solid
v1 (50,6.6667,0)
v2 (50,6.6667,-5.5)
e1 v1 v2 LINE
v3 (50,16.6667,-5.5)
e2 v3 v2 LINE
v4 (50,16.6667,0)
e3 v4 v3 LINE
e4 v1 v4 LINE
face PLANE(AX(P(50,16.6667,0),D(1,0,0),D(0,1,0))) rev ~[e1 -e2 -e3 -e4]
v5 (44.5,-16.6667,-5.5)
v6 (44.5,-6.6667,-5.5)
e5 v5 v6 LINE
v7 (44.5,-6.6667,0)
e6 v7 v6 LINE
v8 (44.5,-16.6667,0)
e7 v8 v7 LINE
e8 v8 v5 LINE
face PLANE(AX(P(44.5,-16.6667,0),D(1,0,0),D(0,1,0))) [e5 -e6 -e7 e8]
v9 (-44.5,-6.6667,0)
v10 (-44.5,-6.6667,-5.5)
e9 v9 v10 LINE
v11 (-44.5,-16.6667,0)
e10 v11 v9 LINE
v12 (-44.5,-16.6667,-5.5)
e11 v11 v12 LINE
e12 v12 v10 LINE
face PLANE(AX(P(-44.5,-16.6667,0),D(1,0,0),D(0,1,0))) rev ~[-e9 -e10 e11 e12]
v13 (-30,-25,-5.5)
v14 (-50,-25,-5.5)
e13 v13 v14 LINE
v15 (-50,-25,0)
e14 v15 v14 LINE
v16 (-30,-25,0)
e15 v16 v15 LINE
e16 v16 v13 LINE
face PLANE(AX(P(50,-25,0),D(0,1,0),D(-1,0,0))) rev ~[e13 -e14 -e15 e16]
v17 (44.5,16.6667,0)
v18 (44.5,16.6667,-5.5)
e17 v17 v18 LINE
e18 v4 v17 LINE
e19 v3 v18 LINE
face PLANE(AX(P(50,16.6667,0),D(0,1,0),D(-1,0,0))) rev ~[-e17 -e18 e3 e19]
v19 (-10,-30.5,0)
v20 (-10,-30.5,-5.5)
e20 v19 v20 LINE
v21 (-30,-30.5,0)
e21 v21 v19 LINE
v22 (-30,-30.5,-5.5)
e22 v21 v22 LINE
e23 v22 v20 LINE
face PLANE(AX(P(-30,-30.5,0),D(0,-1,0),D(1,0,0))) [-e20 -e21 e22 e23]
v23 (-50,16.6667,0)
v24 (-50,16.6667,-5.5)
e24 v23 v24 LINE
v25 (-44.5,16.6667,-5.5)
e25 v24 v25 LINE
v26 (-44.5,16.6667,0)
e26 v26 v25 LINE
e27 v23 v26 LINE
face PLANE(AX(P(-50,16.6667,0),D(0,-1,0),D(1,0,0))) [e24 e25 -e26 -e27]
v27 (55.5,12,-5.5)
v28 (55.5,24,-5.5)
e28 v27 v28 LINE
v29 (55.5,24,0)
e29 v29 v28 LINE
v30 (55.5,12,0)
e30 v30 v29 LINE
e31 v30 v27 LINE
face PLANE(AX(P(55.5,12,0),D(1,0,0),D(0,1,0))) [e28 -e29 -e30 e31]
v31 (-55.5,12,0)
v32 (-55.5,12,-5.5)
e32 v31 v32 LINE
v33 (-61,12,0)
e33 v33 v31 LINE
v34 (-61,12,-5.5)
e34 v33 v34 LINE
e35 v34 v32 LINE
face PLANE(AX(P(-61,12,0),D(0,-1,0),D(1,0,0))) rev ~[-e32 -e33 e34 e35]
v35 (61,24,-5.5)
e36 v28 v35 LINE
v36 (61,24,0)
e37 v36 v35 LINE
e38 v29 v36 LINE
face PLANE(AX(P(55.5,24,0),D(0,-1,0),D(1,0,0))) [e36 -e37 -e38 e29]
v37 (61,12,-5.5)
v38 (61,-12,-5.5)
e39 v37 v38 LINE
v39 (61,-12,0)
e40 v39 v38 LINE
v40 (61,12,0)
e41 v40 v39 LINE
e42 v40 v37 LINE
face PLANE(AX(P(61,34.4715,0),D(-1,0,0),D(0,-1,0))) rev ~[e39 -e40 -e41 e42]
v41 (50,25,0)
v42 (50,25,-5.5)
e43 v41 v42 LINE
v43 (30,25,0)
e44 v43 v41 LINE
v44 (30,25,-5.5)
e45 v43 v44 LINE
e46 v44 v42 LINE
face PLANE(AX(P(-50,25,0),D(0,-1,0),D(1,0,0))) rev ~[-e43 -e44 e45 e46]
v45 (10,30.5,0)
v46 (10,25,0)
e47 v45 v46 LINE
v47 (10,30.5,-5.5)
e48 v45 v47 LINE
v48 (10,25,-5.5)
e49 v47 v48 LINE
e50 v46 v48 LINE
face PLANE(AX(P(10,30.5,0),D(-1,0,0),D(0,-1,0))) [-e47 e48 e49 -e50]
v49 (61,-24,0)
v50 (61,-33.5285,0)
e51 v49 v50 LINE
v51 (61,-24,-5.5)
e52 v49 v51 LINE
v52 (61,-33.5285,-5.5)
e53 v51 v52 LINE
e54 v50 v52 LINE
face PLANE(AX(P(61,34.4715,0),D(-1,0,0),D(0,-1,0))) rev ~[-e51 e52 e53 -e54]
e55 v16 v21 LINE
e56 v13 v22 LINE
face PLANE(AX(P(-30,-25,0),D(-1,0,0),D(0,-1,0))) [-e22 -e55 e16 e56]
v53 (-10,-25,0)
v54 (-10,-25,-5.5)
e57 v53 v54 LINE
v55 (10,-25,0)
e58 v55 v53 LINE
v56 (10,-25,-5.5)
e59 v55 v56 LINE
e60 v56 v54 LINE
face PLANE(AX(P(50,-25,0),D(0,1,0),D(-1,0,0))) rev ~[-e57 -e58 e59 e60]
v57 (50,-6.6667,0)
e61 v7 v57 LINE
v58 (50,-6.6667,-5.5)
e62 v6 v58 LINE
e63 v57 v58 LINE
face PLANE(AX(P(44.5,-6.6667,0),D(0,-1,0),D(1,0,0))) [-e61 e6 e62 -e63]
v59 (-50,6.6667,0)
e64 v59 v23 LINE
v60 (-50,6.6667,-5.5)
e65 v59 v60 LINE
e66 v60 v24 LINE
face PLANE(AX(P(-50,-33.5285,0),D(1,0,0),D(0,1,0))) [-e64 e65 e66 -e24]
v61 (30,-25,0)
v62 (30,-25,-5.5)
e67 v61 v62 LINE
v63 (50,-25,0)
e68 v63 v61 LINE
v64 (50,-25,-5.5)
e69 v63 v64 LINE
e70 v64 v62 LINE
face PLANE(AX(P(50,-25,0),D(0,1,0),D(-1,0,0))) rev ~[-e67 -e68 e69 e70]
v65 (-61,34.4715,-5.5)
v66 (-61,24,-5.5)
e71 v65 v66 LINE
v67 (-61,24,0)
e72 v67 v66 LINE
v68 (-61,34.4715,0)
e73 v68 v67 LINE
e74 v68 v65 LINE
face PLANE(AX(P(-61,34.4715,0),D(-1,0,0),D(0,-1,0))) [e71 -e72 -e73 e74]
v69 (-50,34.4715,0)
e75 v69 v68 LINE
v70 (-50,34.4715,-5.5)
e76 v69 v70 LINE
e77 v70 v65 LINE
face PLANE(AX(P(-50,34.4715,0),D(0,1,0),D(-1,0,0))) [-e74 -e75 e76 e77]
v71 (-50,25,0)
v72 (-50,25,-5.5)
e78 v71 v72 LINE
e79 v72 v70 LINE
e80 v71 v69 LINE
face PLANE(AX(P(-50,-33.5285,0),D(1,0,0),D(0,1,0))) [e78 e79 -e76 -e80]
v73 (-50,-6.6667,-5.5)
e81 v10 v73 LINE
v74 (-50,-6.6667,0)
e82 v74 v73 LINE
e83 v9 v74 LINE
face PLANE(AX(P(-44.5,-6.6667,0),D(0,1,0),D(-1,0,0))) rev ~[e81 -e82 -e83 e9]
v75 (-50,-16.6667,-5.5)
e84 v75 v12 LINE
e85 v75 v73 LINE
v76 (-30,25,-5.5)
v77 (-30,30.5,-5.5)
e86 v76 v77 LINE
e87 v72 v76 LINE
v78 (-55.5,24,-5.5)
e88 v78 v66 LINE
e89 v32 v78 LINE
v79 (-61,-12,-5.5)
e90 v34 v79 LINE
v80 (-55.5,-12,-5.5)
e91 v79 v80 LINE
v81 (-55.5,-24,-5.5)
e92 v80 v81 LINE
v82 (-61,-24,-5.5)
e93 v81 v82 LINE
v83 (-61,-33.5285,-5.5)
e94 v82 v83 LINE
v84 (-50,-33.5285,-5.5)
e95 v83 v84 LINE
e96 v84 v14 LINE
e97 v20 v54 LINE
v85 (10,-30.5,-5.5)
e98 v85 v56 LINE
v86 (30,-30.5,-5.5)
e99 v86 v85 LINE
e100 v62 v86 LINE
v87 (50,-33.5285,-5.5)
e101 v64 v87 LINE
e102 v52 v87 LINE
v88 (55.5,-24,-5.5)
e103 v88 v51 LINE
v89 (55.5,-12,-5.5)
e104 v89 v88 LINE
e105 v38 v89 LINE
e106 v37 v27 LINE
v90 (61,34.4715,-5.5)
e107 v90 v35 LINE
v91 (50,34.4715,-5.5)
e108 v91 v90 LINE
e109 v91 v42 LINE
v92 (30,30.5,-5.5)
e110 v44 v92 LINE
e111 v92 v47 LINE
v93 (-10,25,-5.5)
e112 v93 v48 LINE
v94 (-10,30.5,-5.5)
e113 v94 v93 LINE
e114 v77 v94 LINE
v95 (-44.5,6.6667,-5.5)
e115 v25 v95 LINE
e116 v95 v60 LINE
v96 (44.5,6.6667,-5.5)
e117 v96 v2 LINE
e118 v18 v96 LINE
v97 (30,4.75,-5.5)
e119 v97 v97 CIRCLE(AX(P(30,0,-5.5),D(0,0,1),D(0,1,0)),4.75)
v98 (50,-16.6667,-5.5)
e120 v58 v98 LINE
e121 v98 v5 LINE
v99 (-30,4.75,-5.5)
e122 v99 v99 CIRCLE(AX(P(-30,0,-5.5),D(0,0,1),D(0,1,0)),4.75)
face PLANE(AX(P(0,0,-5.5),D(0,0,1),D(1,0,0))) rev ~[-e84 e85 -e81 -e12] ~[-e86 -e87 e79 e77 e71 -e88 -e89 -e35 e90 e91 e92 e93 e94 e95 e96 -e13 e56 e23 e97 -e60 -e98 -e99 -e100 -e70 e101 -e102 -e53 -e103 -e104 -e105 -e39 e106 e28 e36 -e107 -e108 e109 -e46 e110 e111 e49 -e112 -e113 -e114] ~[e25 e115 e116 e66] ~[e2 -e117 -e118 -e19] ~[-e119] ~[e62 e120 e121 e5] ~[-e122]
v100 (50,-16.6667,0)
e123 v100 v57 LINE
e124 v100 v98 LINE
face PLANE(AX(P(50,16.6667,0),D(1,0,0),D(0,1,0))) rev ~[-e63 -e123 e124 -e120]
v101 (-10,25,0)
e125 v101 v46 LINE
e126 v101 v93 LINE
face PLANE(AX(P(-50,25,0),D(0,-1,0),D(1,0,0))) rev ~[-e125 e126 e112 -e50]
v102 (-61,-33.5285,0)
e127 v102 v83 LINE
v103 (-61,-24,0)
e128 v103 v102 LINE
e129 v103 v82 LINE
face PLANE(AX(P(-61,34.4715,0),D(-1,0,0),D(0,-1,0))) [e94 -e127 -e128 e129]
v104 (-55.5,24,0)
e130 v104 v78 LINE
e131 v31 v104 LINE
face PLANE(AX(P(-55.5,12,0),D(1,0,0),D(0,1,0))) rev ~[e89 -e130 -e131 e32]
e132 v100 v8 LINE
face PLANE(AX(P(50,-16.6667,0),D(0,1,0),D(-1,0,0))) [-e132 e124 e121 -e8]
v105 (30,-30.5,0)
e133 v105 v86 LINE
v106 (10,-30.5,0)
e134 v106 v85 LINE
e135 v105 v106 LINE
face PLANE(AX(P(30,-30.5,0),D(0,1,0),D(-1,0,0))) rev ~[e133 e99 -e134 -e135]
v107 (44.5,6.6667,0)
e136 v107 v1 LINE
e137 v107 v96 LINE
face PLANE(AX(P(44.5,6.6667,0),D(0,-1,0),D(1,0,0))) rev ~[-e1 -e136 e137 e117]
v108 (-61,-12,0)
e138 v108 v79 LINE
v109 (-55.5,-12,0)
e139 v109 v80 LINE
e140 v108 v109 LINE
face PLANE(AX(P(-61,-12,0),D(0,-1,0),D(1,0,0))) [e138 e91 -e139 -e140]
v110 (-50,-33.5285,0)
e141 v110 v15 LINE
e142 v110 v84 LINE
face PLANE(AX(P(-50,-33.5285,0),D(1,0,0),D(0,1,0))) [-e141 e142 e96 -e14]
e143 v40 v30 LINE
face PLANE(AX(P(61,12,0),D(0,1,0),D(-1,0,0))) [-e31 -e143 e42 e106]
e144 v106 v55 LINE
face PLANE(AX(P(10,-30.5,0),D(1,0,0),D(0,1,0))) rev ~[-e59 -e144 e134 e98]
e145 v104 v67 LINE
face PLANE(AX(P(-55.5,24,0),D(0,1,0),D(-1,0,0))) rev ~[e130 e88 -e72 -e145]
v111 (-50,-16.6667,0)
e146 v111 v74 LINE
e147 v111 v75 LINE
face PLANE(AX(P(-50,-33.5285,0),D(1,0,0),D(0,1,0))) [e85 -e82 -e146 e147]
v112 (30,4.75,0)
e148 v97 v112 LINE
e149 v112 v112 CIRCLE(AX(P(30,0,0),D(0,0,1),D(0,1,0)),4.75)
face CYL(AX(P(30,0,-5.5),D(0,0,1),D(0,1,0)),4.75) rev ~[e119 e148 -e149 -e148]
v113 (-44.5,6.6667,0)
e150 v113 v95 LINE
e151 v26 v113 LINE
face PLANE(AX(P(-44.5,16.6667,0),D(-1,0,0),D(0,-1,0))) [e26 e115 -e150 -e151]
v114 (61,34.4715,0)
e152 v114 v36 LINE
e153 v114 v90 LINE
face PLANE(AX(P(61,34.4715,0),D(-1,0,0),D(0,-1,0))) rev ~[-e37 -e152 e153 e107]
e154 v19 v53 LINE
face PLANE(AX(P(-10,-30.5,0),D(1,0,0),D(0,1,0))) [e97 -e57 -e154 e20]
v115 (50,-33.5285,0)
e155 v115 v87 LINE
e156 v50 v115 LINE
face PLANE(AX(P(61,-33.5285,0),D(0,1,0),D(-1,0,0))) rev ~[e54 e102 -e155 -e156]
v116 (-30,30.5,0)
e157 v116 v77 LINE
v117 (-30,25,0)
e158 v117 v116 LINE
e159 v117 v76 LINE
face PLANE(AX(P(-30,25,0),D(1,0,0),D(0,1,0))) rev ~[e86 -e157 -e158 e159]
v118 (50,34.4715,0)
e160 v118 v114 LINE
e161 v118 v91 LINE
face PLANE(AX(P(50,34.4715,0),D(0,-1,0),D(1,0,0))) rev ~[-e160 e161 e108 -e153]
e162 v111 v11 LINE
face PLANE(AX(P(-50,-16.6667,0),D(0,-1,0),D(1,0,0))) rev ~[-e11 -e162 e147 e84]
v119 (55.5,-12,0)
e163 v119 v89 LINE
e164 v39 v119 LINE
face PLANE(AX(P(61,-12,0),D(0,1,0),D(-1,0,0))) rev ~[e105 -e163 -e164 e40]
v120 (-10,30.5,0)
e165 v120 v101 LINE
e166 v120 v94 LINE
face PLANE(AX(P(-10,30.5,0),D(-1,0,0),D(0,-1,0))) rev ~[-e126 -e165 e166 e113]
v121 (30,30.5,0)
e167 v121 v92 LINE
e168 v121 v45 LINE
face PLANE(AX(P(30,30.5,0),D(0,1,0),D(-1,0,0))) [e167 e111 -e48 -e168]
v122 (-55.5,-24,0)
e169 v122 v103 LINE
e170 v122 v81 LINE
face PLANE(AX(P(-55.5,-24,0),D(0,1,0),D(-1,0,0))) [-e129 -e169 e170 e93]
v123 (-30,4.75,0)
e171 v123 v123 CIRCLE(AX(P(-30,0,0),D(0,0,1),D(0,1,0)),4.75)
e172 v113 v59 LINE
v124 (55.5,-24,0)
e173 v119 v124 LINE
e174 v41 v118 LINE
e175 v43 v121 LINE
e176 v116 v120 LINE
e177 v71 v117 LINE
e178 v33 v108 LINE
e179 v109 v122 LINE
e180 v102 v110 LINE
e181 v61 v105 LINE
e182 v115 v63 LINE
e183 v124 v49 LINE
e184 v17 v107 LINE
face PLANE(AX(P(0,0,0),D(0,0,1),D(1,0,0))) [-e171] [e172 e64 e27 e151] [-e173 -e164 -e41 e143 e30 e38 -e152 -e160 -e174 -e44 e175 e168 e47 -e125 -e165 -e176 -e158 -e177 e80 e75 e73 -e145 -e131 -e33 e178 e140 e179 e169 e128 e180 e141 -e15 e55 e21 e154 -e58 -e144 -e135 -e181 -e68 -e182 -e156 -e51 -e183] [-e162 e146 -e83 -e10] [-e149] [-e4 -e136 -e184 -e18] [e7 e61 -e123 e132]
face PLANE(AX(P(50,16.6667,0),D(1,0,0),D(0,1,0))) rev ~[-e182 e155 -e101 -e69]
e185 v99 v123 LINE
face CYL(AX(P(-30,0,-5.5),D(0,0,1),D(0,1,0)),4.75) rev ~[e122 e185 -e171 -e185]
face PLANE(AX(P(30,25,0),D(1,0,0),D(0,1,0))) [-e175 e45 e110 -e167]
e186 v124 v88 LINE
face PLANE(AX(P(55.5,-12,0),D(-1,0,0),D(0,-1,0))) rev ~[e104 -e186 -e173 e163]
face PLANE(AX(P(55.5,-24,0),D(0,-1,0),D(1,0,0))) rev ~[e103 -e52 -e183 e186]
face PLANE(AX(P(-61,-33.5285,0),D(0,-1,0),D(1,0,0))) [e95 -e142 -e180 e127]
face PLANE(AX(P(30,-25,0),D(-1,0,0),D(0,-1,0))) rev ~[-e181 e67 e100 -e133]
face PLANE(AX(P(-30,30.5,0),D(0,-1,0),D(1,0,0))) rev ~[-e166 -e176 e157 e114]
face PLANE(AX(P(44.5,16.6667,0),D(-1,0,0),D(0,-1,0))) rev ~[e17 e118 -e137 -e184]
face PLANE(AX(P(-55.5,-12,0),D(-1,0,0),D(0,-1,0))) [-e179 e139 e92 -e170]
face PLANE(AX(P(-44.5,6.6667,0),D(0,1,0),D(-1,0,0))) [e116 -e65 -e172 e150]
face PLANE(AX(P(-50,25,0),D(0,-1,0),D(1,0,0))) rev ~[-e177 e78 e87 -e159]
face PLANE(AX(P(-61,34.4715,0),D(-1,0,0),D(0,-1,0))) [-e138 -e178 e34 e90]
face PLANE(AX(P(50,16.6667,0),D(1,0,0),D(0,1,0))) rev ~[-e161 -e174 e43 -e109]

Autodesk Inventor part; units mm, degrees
ref_plane "YZ Plane" through (0, 0, 0) normal (1, 0, 0) x (0, 1, 0)
ref_plane "XZ Plane" through (0, 0, 0) normal (0, 1, 0) x (-1, 0, 0)
ref_plane "XY Plane" through (0, 0, 0) normal (0, 0, 1) x (1, 0, 0)
sketch "Block1" plane through (0, 0, 0) normal (0, 0, 1) x (1, 0, 0)
  line L0 (-30.1, 34.1) -> (-9.9, 34.1)
  line L1 (-9.9, 34.1) -> (-9.9, 25.1)
  line L2 (-9.9, 25.1) -> (9.9, 25.1)
  line L3 (9.9, 25.1) -> (9.9, 34.1)
  line L4 (9.9, 34.1) -> (30.1, 34.1)
  line L5 (30.1, 34.1) -> (30.1, 25.1)
  line L6 (30.1, 25.1) -> (49.9, 25.1)
  line L7 (49.9, 25.1) -> (49.9, 34.5715)
  line L8 (49.9, 34.5715) -> (61.1, 34.5715)
  line L9 (61.1, 34.5715) -> (61.1, 23.9)
  line L10 (61.1, 23.9) -> (52.1, 23.9)
  line L11 (52.1, 23.9) -> (52.1, 12.1)
  line L12 (52.1, 12.1) -> (61.1, 12.1)
  line L13 (61.1, 12.1) -> (61.1, -12.1)
  line L14 (61.1, -12.1) -> (52.1, -12.1)
  line L15 (52.1, -12.1) -> (52.1, -23.9)
  line L16 (52.1, -23.9) -> (61.1, -23.9)
  line L17 (61.1, -23.9) -> (61.1, -33.6285)
  line L18 (61.1, -33.6285) -> (49.9, -33.6285)
  line L19 (49.9, -33.6285) -> (49.9, -25.1)
  line L20 (49.9, -25.1) -> (30.1, -25.1)
  line L21 (30.1, -25.1) -> (30.1, -34.1)
  line L22 (30.1, -34.1) -> (9.9, -34.1)
  line L23 (9.9, -34.1) -> (9.9, -25.1)
  line L24 (9.9, -25.1) -> (-9.9, -25.1)
  line L25 (-9.9, -25.1) -> (-9.9, -34.1)
  line L26 (-9.9, -34.1) -> (-30.1, -34.1)
  line L27 (-30.1, -34.1) -> (-30.1, -25.1)
  line L28 (-30.1, -25.1) -> (-49.9, -25.1)
  line L29 (-49.9, -25.1) -> (-49.9, -33.6285)
  line L30 (-49.9, -33.6285) -> (-61.1, -33.6285)
  line L31 (-61.1, -33.6285) -> (-61.1, -23.9)
  line L32 (-61.1, -23.9) -> (-52.1, -23.9)
  line L33 (-52.1, -23.9) -> (-52.1, -12.1)
  line L34 (-52.1, -12.1) -> (-61.1, -12.1)
  line L35 (-61.1, -12.1) -> (-61.1, 12.1)
  line L36 (-61.1, 12.1) -> (-52.1, 12.1)
  line L37 (-52.1, 12.1) -> (-52.1, 23.9)
  line L38 (-52.1, 23.9) -> (-61.1, 23.9)
  line L39 (-61.1, 23.9) -> (-61.1, 34.5715)
  line L40 (-61.1, 34.5715) -> (-49.9, 34.5715)
  line L41 (-49.9, 34.5715) -> (-49.9, 25.1)
  line L42 (-49.9, 25.1) -> (-30.1, 25.1)
  line L43 (-30.1, 25.1) -> (-30.1, 34.1)
  line L44 (-40.9, 16.7667) -> (-50.1, 16.7667)
  line L45 (-50.1, 16.7667) -> (-50.1, 6.5667)
  line L46 (-50.1, 6.5667) -> (-40.9, 6.5667)
  line L47 (-40.9, 6.5667) -> (-40.9, 16.7667)
  line L48 (-40.9, -6.5667) -> (-50.1, -6.5667)
  line L49 (-50.1, -6.5667) -> (-50.1, -16.7667)
  line L50 (-50.1, -16.7667) -> (-40.9, -16.7667)
  line L51 (-40.9, -16.7667) -> (-40.9, -6.5667)
  circle A0 centre (-30, 0) radius 4.6
  circle A1 centre (30, 0) radius 4.6
  line L52 (50.1, 16.7667) -> (50.1, 6.5667)
  line L53 (50.1, 6.5667) -> (40.9, 6.5667)
  line L54 (40.9, 6.5667) -> (40.9, 16.7667)
  line L55 (40.9, 16.7667) -> (50.1, 16.7667)
  line L56 (50.1, -6.5667) -> (40.9, -6.5667)
  line L57 (40.9, -6.5667) -> (40.9, -16.7667)
  line L58 (40.9, -16.7667) -> (50.1, -16.7667)
  line L59 (50.1, -16.7667) -> (50.1, -6.5667)
  point P0 (0, 0.0615)
sketch "Block2" plane through (0, 0, 0) normal (0, 0, 1) x (1, 0, 0)
  line L0 (-30.2, 34.2) -> (-9.8, 34.2)
  line L1 (-9.8, 34.2) -> (-9.8, 25.2)
  line L2 (-9.8, 25.2) -> (9.8, 25.2)
  line L3 (9.8, 25.2) -> (9.8, 34.2)
  line L4 (9.8, 34.2) -> (30.2, 34.2)
  line L5 (30.2, 34.2) -> (30.2, 25.2)
  line L6 (30.2, 25.2) -> (49.8, 25.2)
  line L7 (49.8, 25.2) -> (49.8, 34.6715)
  line L8 (49.8, 34.6715) -> (61.2, 34.6715)
  line L9 (61.2, 34.6715) -> (61.2, 23.8)
  line L10 (61.2, 23.8) -> (52.2, 23.8)
  line L11 (52.2, 23.8) -> (52.2, 12.2)
  line L12 (52.2, 12.2) -> (61.2, 12.2)
  line L13 (61.2, 12.2) -> (61.2, -12.2)
  line L14 (61.2, -12.2) -> (52.2, -12.2)
  line L15 (52.2, -12.2) -> (52.2, -23.8)
  line L16 (52.2, -23.8) -> (61.2, -23.8)
  line L17 (61.2, -23.8) -> (61.2, -33.7285)
  line L18 (61.2, -33.7285) -> (49.8, -33.7285)
  line L19 (49.8, -33.7285) -> (49.8, -25.2)
  line L20 (49.8, -25.2) -> (30.2, -25.2)
  line L21 (30.2, -25.2) -> (30.2, -34.2)
  line L22 (30.2, -34.2) -> (9.8, -34.2)
  line L23 (9.8, -34.2) -> (9.8, -25.2)
  line L24 (9.8, -25.2) -> (-9.8, -25.2)
  line L25 (-9.8, -25.2) -> (-9.8, -34.2)
  line L26 (-9.8, -34.2) -> (-30.2, -34.2)
  line L27 (-30.2, -34.2) -> (-30.2, -25.2)
  line L28 (-30.2, -25.2) -> (-49.8, -25.2)
  line L29 (-49.8, -25.2) -> (-49.8, -33.7285)
  line L30 (-49.8, -33.7285) -> (-61.2, -33.7285)
  line L31 (-61.2, -33.7285) -> (-61.2, -23.8)
  line L32 (-61.2, -23.8) -> (-52.2, -23.8)
  line L33 (-52.2, -23.8) -> (-52.2, -12.2)
  line L34 (-52.2, -12.2) -> (-61.2, -12.2)
  line L35 (-61.2, -12.2) -> (-61.2, 12.2)
  line L36 (-61.2, 12.2) -> (-52.2, 12.2)
  line L37 (-52.2, 12.2) -> (-52.2, 23.8)
  line L38 (-52.2, 23.8) -> (-61.2, 23.8)
  line L39 (-61.2, 23.8) -> (-61.2, 34.6715)
  line L40 (-61.2, 34.6715) -> (-49.8, 34.6715)
  line L41 (-49.8, 34.6715) -> (-49.8, 25.2)
  line L42 (-49.8, 25.2) -> (-30.2, 25.2)
  line L43 (-30.2, 25.2) -> (-30.2, 34.2)
  circle A0 centre (-30, 0) radius 4.7
  circle A1 centre (30, 0) radius 4.7
  line L44 (50.2, 16.8667) -> (50.2, 6.4667)
  line L45 (50.2, 6.4667) -> (40.8, 6.4667)
  line L46 (40.8, 6.4667) -> (40.8, 16.8667)
  line L47 (40.8, 16.8667) -> (50.2, 16.8667)
  line L48 (50.2, -6.4667) -> (40.8, -6.4667)
  line L49 (40.8, -6.4667) -> (40.8, -16.8667)
  line L50 (40.8, -16.8667) -> (50.2, -16.8667)
  line L51 (50.2, -16.8667) -> (50.2, -6.4667)
  line L52 (-40.8, 16.8667) -> (-50.2, 16.8667)
  line L53 (-50.2, 16.8667) -> (-50.2, 6.4667)
  line L54 (-50.2, 6.4667) -> (-40.8, 6.4667)
  line L55 (-40.8, 6.4667) -> (-40.8, 16.8667)
  line L56 (-40.8, -6.4667) -> (-50.2, -6.4667)
  line L57 (-50.2, -6.4667) -> (-50.2, -16.8667)
  line L58 (-50.2, -16.8667) -> (-40.8, -16.8667)
  line L59 (-40.8, -16.8667) -> (-40.8, -6.4667)
  point P0 (0, 0.0615)
sketch "Block3" plane through (0, 0, 0) normal (0, 0, 1) x (1, 0, 0)
  line L0 (9.9, 34.1) -> (30.1, 34.1)
  line L1 (30.1, 34.1) -> (30.1, 25.1)
  line L2 (30.1, 25.1) -> (49.9, 25.1)
  line L3 (49.9, 25.1) -> (49.9, 34.5715)
  line L4 (49.9, 34.5715) -> (61.1, 34.5715)
  line L5 (61.1, 34.5715) -> (61.1, 23.9)
  line L6 (61.1, 23.9) -> (52.1, 23.9)
  line L7 (52.1, 23.9) -> (52.1, 12.1)
  line L8 (52.1, 12.1) -> (61.1, 12.1)
  line L9 (61.1, 12.1) -> (61.1, -12.1)
  line L10 (61.1, -12.1) -> (52.1, -12.1)
  line L11 (52.1, -12.1) -> (52.1, -23.9)
  line L12 (52.1, -23.9) -> (61.1, -23.9)
  line L13 (61.1, -23.9) -> (61.1, -33.6285)
  line L14 (61.1, -33.6285) -> (49.9, -33.6285)
  line L15 (49.9, -33.6285) -> (49.9, -25.1)
  line L16 (49.9, -25.1) -> (30.1, -25.1)
  line L17 (30.1, -25.1) -> (30.1, -34.1)
  line L18 (30.1, -34.1) -> (9.9, -34.1)
  line L19 (9.9, -34.1) -> (9.9, -25.1)
  line L20 (9.9, -25.1) -> (-9.9, -25.1)
  line L21 (-9.9, -25.1) -> (-9.9, -34.1)
  line L22 (-9.9, -34.1) -> (-30.1, -34.1)
  line L23 (-30.1, -34.1) -> (-30.1, -25.1)
  line L24 (-30.1, -25.1) -> (-49.9, -25.1)
  line L25 (-49.9, -25.1) -> (-49.9, -33.6285)
  line L26 (-49.9, -33.6285) -> (-61.1, -33.6285)
  line L27 (-61.1, -33.6285) -> (-61.1, -23.9)
  line L28 (-61.1, -23.9) -> (-52.1, -23.9)
  line L29 (-52.1, -23.9) -> (-52.1, -12.1)
  line L30 (-52.1, -12.1) -> (-61.1, -12.1)
  line L31 (-61.1, -12.1) -> (-61.1, 12.1)
  line L32 (-61.1, 12.1) -> (-52.1, 12.1)
  line L33 (-52.1, 12.1) -> (-52.1, 23.9)
  line L34 (-52.1, 23.9) -> (-61.1, 23.9)
  line L35 (-61.1, 23.9) -> (-61.1, 34.5715)
  line L36 (-61.1, 34.5715) -> (-49.9, 34.5715)
  line L37 (-49.9, 34.5715) -> (-49.9, 25.1)
  line L38 (-49.9, 25.1) -> (-30.1, 25.1)
  line L39 (-30.1, 25.1) -> (-30.1, 34.1)
  line L40 (-30.1, 34.1) -> (-9.9, 34.1)
  line L41 (-9.9, 34.1) -> (-9.9, 25.1)
  line L42 (-9.9, 25.1) -> (9.9, 25.1)
  line L43 (9.9, 25.1) -> (9.9, 34.1)
  circle A0 centre (-30, 0) radius 4.6
  circle A1 centre (30, 0) radius 4.6
  line L44 (-40.9, 16.7667) -> (-50.1, 16.7667)
  line L45 (-50.1, 16.7667) -> (-50.1, 6.5667)
  line L46 (-50.1, 6.5667) -> (-40.9, 6.5667)
  line L47 (-40.9, 6.5667) -> (-40.9, 16.7667)
  line L48 (-40.9, -6.5667) -> (-50.1, -6.5667)
  line L49 (-50.1, -6.5667) -> (-50.1, -16.7667)
  line L50 (-50.1, -16.7667) -> (-40.9, -16.7667)
  line L51 (-40.9, -16.7667) -> (-40.9, -6.5667)
  line L52 (50.1, 16.7667) -> (50.1, 6.5667)
  line L53 (50.1, 6.5667) -> (40.9, 6.5667)
  line L54 (40.9, 6.5667) -> (40.9, 16.7667)
  line L55 (40.9, 16.7667) -> (50.1, 16.7667)
  line L56 (50.1, -6.5667) -> (40.9, -6.5667)
  line L57 (40.9, -6.5667) -> (40.9, -16.7667)
  line L58 (40.9, -16.7667) -> (50.1, -16.7667)
  line L59 (50.1, -16.7667) -> (50.1, -6.5667)
  point P0 (0, 0.0615)
sketch "Block4" plane through (0, 0, 0) normal (0, 0, 1) x (1, 0, 0)
  line L0 (-30.08, 30.58) -> (-9.92, 30.58)
  line L1 (-9.92, 30.58) -> (-9.92, 25.08)
  line L2 (-9.92, 25.08) -> (9.92, 25.08)
  line L3 (9.92, 25.08) -> (9.92, 30.58)
  line L4 (9.92, 30.58) -> (30.08, 30.58)
  line L5 (30.08, 30.58) -> (30.08, 25.08)
  line L6 (30.08, 25.08) -> (49.92, 25.08)
  line L7 (49.92, 25.08) -> (49.92, 34.5515)
  line L8 (49.92, 34.5515) -> (61.08, 34.5515)
  line L9 (61.08, 34.5515) -> (61.08, 23.92)
  line L10 (61.08, 23.92) -> (55.58, 23.92)
  line L11 (55.58, 23.92) -> (55.58, 12.08)
  line L12 (55.58, 12.08) -> (61.08, 12.08)
  line L13 (61.08, 12.08) -> (61.08, -12.08)
  line L14 (61.08, -12.08) -> (55.58, -12.08)
  line L15 (55.58, -12.08) -> (55.58, -23.92)
  line L16 (55.58, -23.92) -> (61.08, -23.92)
  line L17 (61.08, -23.92) -> (61.08, -33.6085)
  line L18 (61.08, -33.6085) -> (49.92, -33.6085)
  line L19 (49.92, -33.6085) -> (49.92, -25.08)
  line L20 (49.92, -25.08) -> (30.08, -25.08)
  line L21 (30.08, -25.08) -> (30.08, -30.58)
  line L22 (30.08, -30.58) -> (9.92, -30.58)
  line L23 (9.92, -30.58) -> (9.92, -25.08)
  line L24 (9.92, -25.08) -> (-9.92, -25.08)
  line L25 (-9.92, -25.08) -> (-9.92, -30.58)
  line L26 (-9.92, -30.58) -> (-30.08, -30.58)
  line L27 (-30.08, -30.58) -> (-30.08, -25.08)
  line L28 (-30.08, -25.08) -> (-49.92, -25.08)
  line L29 (-49.92, -25.08) -> (-49.92, -33.6085)
  line L30 (-49.92, -33.6085) -> (-61.08, -33.6085)
  line L31 (-61.08, -33.6085) -> (-61.08, -23.92)
  line L32 (-61.08, -23.92) -> (-55.58, -23.92)
  line L33 (-55.58, -23.92) -> (-55.58, -12.08)
  line L34 (-55.58, -12.08) -> (-61.08, -12.08)
  line L35 (-61.08, -12.08) -> (-61.08, 12.08)
  line L36 (-61.08, 12.08) -> (-55.58, 12.08)
  line L37 (-55.58, 12.08) -> (-55.58, 23.92)
  line L38 (-55.58, 23.92) -> (-61.08, 23.92)
  line L39 (-61.08, 23.92) -> (-61.08, 34.5515)
  line L40 (-61.08, 34.5515) -> (-49.92, 34.5515)
  line L41 (-49.92, 34.5515) -> (-49.92, 25.08)
  line L42 (-49.92, 25.08) -> (-30.08, 25.08)
  line L43 (-30.08, 25.08) -> (-30.08, 30.58)
  line L44 (-44.42, 16.7467) -> (-50.08, 16.7467)
  line L45 (-50.08, 16.7467) -> (-50.08, 6.5867)
  line L46 (-50.08, 6.5867) -> (-44.42, 6.5867)
  line L47 (-44.42, 6.5867) -> (-44.42, 16.7467)
  line L48 (-44.42, -6.5867) -> (-50.08, -6.5867)
  line L49 (-50.08, -6.5867) -> (-50.08, -16.7467)
  line L50 (-50.08, -16.7467) -> (-44.42, -16.7467)
  line L51 (-44.42, -16.7467) -> (-44.42, -6.5867)
  circle A0 centre (-30, 0) radius 4.83
  circle A1 centre (30, 0) radius 4.83
  line L52 (50.08, 16.7467) -> (50.08, 6.5867)
  line L53 (50.08, 6.5867) -> (44.42, 6.5867)
  line L54 (44.42, 6.5867) -> (44.42, 16.7467)
  line L55 (44.42, 16.7467) -> (50.08, 16.7467)
  line L56 (50.08, -6.5867) -> (44.42, -6.5867)
  line L57 (44.42, -6.5867) -> (44.42, -16.7467)
  line L58 (44.42, -16.7467) -> (50.08, -16.7467)
  line L59 (50.08, -16.7467) -> (50.08, -6.5867)
  point P0 (0, 0.0615)
sketch "Sketch10" plane through (0, 0, 0) normal (0, 0, 1) x (1, 0, 0)
  line L0 (50, -25) -> (-50, -25)
  line L1 (-50, -25) -> (-50, 25)
  line L2 (-50, 25) -> (50, 25)
  line L3 (50, 25) -> (50, -25)
  line L4 (50, -25) -> (-50, 25) construction
  line L5 (-50, -25) -> (50, 25) construction
  point P0 (0, 0)
  dimension "d21" = 100
  dimension "d22" = 50
extrude "Extrusion2" add sketch "Sketch10" against normal blind 5.5
sketch "Sketch16" plane through (0, 0, -5.5) normal (0, 0, -1) x (-1, 0, 0)
  line L0 (0, -48.2244) -> (0, 50.6464) projected
  point P0 (0, 0)
  point P1 (-30, 0)
  point P2 (30, 0)
  dimension "d52" = 60
hole "Hole5" at (30, 0, -5.5) at (-30, 0, -5.5) direction (0, 0, 1) diameter 9.5 end through all
sketch "Sketch35" plane through (0, 0, 0) normal (0, 0, 1) x (1, 0, 0)
  line L0 (-50, 25) -> (50, 25) projected
  line L1 (-50, -25) -> (-50, 25) projected
  line L2 (0, -48.2244) -> (0, 50.6464) projected
  line L3 (-246.2787, 0) -> (113.734, 0) projected
  line L4 (50, 25) -> (50, -25) projected
  line L5 (-30, 25) -> (-30, 30.5)
  line L6 (-30, 30.5) -> (-10, 30.5)
  line L7 (-10, 30.5) -> (-10, 25)
  line L8 (-30, 25) -> (-10, 25)
  line L9 (30, 25) -> (30, 30.5)
  line L10 (30, 30.5) -> (10, 30.5)
  line L11 (10, 30.5) -> (10, 25)
  line L12 (30, 25) -> (10, 25)
  line L13 (-30, -25) -> (-30, -30.5)
  line L14 (-30, -30.5) -> (-10, -30.5)
  line L15 (-10, -30.5) -> (-10, -25)
  line L16 (-30, -25) -> (-10, -25)
  line L17 (30, -25) -> (30, -30.5)
  line L18 (30, -25) -> (10, -25)
  line L19 (30, -30.5) -> (10, -30.5)
  line L20 (10, -30.5) -> (10, -25)
  point P0 (0, 0)
  point P1 (-50, 16.6667)
  point P2 (-50, 4.1667)
  dimension "d129" = 20
  dimension "d130" = 20
  dimension "d131" = 5.5
extrude "Extrusion6" add sketch "Sketch35" against normal blind 5.5 contours L5 L6 L7 L0 | L11 L10 L9 L0 | L16 L15 L14 L13 | L17 L19 L20 L18
sketch "Sketch36" plane through (0, 0, 0) normal (0, 0, 1) x (1, 0, 0)
  line L0 (-50, 25) -> (-30, 25) projected
  line L1 (-50, -25) -> (-50, 25) projected
  line L2 (-50, 16.6667) -> (-44.5, 16.6667)
  line L3 (-44.5, 16.6667) -> (-44.5, 6.6667)
  line L4 (-44.5, 6.6667) -> (-50, 6.6667)
  line L5 (-50, 6.6667) -> (-50, 16.6667)
  line L6 (-246.2787, 0) -> (113.734, 0) projected
  line L7 (0, -48.2244) -> (0, 50.6464) projected
  line L8 (-50, -16.6667) -> (-44.5, -16.6667)
  line L9 (-44.5, -16.6667) -> (-44.5, -6.6667)
  line L10 (-44.5, -6.6667) -> (-50, -6.6667)
  line L11 (-50, -6.6667) -> (-50, -16.6667)
  line L12 (50, 16.6667) -> (44.5, 16.6667)
  line L13 (44.5, 16.6667) -> (44.5, 6.6667)
  line L14 (44.5, 6.6667) -> (50, 6.6667)
  line L15 (50, 6.6667) -> (50, 16.6667)
  line L16 (44.5, -16.6667) -> (44.5, -6.6667)
  line L17 (44.5, -6.6667) -> (50, -6.6667)
  line L18 (50, -6.6667) -> (50, -16.6667)
  line L19 (50, -16.6667) -> (44.5, -16.6667)
  point P0 (0, 0)
  dimension "d144" = 5.5
  dimension "d145" = 10
  dimension "d146" = 8.3333
extrude "Extrusion7" cut sketch "Sketch36" against normal through all
sketch "Sketch37" plane through (0, 0, 0) normal (0, 0, 1) x (1, 0, 0)
  line L0 (30, -30.5) -> (10, -30.5)
  line L1 (-10, -30.5) -> (-30, -30.5)
  line L2 (0, -48.2244) -> (0, 50.6464) projected
  line L3 (-50, 34.4715) -> (-61, 34.4715)
  line L4 (-61, 34.4715) -> (-61, -33.5285)
  line L5 (-61, -33.5285) -> (-50, -33.5285)
  line L6 (-50, -33.5285) -> (-50, 34.4715)
  line L7 (50, 16.6667) -> (50, 25)
  line L8 (50, -6.6667) -> (50, 6.6667)
  line L9 (50, -25) -> (50, -16.6667)
  line L10 (50, 34.4715) -> (61, 34.4715)
  line L11 (61, 34.4715) -> (61, -33.5285)
  line L12 (61, -33.5285) -> (50, -33.5285)
  line L13 (50, -33.5285) -> (50, 34.4715)
  point P0 (0, 0)
  dimension "d155" = 11
extrude "Extrusion8" add sketch "Sketch37" against normal blind 5.5
sketch "Sketch38" plane through (0, 0, 0) normal (0, 0, 1) x (1, 0, 0)
  line L0 (-61, 34.4715) -> (-61, -33.5285) projected
  line L1 (-246.2787, 0) -> (113.734, 0) projected
  line L2 (0, -48.2244) -> (0, 50.6464) projected
  line L3 (-61, 12) -> (-55.5, 12)
  line L4 (-55.5, 12) -> (-55.5, 24)
  line L5 (-55.5, 24) -> (-61, 24)
  line L6 (-61, 24) -> (-61, 12)
  line L7 (-61, -12) -> (-55.5, -12)
  line L8 (-55.5, -12) -> (-55.5, -24)
  line L9 (-55.5, -24) -> (-61, -24)
  line L10 (-61, -24) -> (-61, -12)
  line L11 (61, 12) -> (55.5, 12)
  line L12 (55.5, 12) -> (55.5, 24)
  line L13 (55.5, 24) -> (61, 24)
  line L14 (61, 24) -> (61, 12)
  line L15 (55.5, -12) -> (55.5, -24)
  line L16 (55.5, -24) -> (61, -24)
  line L17 (61, -24) -> (61, -12)
  line L18 (61, -12) -> (55.5, -12)
  point P0 (0, 0)
  dimension "d164" = 5.5
  dimension "d165" = 12
  dimension "d166" = 12
extrude "Extrusion10" cut sketch "Sketch38" against normal through all
equation "\"d23\" = Wt"
equation "\"d129\" = 0.2 * d21"
equation "\"d130\" = 0.2 * d21"
equation "\"d131\" = Wt"
equation "\"d142\" = Wt"
equation "\"d144\" = Wt"
equation "\"d145\" = 0.2 * d22"
equation "\"d146\" = 0.166667 * d22"
equation "\"d147\" = Wt"
equation "\"d162\" = Wt"
equation "\"d164\" = Wt"
equation "\"d172\" = Wt"
equation "\"Wt\" = 5.5"
properties part number "holder_plate" material "Wood (Birch)"
